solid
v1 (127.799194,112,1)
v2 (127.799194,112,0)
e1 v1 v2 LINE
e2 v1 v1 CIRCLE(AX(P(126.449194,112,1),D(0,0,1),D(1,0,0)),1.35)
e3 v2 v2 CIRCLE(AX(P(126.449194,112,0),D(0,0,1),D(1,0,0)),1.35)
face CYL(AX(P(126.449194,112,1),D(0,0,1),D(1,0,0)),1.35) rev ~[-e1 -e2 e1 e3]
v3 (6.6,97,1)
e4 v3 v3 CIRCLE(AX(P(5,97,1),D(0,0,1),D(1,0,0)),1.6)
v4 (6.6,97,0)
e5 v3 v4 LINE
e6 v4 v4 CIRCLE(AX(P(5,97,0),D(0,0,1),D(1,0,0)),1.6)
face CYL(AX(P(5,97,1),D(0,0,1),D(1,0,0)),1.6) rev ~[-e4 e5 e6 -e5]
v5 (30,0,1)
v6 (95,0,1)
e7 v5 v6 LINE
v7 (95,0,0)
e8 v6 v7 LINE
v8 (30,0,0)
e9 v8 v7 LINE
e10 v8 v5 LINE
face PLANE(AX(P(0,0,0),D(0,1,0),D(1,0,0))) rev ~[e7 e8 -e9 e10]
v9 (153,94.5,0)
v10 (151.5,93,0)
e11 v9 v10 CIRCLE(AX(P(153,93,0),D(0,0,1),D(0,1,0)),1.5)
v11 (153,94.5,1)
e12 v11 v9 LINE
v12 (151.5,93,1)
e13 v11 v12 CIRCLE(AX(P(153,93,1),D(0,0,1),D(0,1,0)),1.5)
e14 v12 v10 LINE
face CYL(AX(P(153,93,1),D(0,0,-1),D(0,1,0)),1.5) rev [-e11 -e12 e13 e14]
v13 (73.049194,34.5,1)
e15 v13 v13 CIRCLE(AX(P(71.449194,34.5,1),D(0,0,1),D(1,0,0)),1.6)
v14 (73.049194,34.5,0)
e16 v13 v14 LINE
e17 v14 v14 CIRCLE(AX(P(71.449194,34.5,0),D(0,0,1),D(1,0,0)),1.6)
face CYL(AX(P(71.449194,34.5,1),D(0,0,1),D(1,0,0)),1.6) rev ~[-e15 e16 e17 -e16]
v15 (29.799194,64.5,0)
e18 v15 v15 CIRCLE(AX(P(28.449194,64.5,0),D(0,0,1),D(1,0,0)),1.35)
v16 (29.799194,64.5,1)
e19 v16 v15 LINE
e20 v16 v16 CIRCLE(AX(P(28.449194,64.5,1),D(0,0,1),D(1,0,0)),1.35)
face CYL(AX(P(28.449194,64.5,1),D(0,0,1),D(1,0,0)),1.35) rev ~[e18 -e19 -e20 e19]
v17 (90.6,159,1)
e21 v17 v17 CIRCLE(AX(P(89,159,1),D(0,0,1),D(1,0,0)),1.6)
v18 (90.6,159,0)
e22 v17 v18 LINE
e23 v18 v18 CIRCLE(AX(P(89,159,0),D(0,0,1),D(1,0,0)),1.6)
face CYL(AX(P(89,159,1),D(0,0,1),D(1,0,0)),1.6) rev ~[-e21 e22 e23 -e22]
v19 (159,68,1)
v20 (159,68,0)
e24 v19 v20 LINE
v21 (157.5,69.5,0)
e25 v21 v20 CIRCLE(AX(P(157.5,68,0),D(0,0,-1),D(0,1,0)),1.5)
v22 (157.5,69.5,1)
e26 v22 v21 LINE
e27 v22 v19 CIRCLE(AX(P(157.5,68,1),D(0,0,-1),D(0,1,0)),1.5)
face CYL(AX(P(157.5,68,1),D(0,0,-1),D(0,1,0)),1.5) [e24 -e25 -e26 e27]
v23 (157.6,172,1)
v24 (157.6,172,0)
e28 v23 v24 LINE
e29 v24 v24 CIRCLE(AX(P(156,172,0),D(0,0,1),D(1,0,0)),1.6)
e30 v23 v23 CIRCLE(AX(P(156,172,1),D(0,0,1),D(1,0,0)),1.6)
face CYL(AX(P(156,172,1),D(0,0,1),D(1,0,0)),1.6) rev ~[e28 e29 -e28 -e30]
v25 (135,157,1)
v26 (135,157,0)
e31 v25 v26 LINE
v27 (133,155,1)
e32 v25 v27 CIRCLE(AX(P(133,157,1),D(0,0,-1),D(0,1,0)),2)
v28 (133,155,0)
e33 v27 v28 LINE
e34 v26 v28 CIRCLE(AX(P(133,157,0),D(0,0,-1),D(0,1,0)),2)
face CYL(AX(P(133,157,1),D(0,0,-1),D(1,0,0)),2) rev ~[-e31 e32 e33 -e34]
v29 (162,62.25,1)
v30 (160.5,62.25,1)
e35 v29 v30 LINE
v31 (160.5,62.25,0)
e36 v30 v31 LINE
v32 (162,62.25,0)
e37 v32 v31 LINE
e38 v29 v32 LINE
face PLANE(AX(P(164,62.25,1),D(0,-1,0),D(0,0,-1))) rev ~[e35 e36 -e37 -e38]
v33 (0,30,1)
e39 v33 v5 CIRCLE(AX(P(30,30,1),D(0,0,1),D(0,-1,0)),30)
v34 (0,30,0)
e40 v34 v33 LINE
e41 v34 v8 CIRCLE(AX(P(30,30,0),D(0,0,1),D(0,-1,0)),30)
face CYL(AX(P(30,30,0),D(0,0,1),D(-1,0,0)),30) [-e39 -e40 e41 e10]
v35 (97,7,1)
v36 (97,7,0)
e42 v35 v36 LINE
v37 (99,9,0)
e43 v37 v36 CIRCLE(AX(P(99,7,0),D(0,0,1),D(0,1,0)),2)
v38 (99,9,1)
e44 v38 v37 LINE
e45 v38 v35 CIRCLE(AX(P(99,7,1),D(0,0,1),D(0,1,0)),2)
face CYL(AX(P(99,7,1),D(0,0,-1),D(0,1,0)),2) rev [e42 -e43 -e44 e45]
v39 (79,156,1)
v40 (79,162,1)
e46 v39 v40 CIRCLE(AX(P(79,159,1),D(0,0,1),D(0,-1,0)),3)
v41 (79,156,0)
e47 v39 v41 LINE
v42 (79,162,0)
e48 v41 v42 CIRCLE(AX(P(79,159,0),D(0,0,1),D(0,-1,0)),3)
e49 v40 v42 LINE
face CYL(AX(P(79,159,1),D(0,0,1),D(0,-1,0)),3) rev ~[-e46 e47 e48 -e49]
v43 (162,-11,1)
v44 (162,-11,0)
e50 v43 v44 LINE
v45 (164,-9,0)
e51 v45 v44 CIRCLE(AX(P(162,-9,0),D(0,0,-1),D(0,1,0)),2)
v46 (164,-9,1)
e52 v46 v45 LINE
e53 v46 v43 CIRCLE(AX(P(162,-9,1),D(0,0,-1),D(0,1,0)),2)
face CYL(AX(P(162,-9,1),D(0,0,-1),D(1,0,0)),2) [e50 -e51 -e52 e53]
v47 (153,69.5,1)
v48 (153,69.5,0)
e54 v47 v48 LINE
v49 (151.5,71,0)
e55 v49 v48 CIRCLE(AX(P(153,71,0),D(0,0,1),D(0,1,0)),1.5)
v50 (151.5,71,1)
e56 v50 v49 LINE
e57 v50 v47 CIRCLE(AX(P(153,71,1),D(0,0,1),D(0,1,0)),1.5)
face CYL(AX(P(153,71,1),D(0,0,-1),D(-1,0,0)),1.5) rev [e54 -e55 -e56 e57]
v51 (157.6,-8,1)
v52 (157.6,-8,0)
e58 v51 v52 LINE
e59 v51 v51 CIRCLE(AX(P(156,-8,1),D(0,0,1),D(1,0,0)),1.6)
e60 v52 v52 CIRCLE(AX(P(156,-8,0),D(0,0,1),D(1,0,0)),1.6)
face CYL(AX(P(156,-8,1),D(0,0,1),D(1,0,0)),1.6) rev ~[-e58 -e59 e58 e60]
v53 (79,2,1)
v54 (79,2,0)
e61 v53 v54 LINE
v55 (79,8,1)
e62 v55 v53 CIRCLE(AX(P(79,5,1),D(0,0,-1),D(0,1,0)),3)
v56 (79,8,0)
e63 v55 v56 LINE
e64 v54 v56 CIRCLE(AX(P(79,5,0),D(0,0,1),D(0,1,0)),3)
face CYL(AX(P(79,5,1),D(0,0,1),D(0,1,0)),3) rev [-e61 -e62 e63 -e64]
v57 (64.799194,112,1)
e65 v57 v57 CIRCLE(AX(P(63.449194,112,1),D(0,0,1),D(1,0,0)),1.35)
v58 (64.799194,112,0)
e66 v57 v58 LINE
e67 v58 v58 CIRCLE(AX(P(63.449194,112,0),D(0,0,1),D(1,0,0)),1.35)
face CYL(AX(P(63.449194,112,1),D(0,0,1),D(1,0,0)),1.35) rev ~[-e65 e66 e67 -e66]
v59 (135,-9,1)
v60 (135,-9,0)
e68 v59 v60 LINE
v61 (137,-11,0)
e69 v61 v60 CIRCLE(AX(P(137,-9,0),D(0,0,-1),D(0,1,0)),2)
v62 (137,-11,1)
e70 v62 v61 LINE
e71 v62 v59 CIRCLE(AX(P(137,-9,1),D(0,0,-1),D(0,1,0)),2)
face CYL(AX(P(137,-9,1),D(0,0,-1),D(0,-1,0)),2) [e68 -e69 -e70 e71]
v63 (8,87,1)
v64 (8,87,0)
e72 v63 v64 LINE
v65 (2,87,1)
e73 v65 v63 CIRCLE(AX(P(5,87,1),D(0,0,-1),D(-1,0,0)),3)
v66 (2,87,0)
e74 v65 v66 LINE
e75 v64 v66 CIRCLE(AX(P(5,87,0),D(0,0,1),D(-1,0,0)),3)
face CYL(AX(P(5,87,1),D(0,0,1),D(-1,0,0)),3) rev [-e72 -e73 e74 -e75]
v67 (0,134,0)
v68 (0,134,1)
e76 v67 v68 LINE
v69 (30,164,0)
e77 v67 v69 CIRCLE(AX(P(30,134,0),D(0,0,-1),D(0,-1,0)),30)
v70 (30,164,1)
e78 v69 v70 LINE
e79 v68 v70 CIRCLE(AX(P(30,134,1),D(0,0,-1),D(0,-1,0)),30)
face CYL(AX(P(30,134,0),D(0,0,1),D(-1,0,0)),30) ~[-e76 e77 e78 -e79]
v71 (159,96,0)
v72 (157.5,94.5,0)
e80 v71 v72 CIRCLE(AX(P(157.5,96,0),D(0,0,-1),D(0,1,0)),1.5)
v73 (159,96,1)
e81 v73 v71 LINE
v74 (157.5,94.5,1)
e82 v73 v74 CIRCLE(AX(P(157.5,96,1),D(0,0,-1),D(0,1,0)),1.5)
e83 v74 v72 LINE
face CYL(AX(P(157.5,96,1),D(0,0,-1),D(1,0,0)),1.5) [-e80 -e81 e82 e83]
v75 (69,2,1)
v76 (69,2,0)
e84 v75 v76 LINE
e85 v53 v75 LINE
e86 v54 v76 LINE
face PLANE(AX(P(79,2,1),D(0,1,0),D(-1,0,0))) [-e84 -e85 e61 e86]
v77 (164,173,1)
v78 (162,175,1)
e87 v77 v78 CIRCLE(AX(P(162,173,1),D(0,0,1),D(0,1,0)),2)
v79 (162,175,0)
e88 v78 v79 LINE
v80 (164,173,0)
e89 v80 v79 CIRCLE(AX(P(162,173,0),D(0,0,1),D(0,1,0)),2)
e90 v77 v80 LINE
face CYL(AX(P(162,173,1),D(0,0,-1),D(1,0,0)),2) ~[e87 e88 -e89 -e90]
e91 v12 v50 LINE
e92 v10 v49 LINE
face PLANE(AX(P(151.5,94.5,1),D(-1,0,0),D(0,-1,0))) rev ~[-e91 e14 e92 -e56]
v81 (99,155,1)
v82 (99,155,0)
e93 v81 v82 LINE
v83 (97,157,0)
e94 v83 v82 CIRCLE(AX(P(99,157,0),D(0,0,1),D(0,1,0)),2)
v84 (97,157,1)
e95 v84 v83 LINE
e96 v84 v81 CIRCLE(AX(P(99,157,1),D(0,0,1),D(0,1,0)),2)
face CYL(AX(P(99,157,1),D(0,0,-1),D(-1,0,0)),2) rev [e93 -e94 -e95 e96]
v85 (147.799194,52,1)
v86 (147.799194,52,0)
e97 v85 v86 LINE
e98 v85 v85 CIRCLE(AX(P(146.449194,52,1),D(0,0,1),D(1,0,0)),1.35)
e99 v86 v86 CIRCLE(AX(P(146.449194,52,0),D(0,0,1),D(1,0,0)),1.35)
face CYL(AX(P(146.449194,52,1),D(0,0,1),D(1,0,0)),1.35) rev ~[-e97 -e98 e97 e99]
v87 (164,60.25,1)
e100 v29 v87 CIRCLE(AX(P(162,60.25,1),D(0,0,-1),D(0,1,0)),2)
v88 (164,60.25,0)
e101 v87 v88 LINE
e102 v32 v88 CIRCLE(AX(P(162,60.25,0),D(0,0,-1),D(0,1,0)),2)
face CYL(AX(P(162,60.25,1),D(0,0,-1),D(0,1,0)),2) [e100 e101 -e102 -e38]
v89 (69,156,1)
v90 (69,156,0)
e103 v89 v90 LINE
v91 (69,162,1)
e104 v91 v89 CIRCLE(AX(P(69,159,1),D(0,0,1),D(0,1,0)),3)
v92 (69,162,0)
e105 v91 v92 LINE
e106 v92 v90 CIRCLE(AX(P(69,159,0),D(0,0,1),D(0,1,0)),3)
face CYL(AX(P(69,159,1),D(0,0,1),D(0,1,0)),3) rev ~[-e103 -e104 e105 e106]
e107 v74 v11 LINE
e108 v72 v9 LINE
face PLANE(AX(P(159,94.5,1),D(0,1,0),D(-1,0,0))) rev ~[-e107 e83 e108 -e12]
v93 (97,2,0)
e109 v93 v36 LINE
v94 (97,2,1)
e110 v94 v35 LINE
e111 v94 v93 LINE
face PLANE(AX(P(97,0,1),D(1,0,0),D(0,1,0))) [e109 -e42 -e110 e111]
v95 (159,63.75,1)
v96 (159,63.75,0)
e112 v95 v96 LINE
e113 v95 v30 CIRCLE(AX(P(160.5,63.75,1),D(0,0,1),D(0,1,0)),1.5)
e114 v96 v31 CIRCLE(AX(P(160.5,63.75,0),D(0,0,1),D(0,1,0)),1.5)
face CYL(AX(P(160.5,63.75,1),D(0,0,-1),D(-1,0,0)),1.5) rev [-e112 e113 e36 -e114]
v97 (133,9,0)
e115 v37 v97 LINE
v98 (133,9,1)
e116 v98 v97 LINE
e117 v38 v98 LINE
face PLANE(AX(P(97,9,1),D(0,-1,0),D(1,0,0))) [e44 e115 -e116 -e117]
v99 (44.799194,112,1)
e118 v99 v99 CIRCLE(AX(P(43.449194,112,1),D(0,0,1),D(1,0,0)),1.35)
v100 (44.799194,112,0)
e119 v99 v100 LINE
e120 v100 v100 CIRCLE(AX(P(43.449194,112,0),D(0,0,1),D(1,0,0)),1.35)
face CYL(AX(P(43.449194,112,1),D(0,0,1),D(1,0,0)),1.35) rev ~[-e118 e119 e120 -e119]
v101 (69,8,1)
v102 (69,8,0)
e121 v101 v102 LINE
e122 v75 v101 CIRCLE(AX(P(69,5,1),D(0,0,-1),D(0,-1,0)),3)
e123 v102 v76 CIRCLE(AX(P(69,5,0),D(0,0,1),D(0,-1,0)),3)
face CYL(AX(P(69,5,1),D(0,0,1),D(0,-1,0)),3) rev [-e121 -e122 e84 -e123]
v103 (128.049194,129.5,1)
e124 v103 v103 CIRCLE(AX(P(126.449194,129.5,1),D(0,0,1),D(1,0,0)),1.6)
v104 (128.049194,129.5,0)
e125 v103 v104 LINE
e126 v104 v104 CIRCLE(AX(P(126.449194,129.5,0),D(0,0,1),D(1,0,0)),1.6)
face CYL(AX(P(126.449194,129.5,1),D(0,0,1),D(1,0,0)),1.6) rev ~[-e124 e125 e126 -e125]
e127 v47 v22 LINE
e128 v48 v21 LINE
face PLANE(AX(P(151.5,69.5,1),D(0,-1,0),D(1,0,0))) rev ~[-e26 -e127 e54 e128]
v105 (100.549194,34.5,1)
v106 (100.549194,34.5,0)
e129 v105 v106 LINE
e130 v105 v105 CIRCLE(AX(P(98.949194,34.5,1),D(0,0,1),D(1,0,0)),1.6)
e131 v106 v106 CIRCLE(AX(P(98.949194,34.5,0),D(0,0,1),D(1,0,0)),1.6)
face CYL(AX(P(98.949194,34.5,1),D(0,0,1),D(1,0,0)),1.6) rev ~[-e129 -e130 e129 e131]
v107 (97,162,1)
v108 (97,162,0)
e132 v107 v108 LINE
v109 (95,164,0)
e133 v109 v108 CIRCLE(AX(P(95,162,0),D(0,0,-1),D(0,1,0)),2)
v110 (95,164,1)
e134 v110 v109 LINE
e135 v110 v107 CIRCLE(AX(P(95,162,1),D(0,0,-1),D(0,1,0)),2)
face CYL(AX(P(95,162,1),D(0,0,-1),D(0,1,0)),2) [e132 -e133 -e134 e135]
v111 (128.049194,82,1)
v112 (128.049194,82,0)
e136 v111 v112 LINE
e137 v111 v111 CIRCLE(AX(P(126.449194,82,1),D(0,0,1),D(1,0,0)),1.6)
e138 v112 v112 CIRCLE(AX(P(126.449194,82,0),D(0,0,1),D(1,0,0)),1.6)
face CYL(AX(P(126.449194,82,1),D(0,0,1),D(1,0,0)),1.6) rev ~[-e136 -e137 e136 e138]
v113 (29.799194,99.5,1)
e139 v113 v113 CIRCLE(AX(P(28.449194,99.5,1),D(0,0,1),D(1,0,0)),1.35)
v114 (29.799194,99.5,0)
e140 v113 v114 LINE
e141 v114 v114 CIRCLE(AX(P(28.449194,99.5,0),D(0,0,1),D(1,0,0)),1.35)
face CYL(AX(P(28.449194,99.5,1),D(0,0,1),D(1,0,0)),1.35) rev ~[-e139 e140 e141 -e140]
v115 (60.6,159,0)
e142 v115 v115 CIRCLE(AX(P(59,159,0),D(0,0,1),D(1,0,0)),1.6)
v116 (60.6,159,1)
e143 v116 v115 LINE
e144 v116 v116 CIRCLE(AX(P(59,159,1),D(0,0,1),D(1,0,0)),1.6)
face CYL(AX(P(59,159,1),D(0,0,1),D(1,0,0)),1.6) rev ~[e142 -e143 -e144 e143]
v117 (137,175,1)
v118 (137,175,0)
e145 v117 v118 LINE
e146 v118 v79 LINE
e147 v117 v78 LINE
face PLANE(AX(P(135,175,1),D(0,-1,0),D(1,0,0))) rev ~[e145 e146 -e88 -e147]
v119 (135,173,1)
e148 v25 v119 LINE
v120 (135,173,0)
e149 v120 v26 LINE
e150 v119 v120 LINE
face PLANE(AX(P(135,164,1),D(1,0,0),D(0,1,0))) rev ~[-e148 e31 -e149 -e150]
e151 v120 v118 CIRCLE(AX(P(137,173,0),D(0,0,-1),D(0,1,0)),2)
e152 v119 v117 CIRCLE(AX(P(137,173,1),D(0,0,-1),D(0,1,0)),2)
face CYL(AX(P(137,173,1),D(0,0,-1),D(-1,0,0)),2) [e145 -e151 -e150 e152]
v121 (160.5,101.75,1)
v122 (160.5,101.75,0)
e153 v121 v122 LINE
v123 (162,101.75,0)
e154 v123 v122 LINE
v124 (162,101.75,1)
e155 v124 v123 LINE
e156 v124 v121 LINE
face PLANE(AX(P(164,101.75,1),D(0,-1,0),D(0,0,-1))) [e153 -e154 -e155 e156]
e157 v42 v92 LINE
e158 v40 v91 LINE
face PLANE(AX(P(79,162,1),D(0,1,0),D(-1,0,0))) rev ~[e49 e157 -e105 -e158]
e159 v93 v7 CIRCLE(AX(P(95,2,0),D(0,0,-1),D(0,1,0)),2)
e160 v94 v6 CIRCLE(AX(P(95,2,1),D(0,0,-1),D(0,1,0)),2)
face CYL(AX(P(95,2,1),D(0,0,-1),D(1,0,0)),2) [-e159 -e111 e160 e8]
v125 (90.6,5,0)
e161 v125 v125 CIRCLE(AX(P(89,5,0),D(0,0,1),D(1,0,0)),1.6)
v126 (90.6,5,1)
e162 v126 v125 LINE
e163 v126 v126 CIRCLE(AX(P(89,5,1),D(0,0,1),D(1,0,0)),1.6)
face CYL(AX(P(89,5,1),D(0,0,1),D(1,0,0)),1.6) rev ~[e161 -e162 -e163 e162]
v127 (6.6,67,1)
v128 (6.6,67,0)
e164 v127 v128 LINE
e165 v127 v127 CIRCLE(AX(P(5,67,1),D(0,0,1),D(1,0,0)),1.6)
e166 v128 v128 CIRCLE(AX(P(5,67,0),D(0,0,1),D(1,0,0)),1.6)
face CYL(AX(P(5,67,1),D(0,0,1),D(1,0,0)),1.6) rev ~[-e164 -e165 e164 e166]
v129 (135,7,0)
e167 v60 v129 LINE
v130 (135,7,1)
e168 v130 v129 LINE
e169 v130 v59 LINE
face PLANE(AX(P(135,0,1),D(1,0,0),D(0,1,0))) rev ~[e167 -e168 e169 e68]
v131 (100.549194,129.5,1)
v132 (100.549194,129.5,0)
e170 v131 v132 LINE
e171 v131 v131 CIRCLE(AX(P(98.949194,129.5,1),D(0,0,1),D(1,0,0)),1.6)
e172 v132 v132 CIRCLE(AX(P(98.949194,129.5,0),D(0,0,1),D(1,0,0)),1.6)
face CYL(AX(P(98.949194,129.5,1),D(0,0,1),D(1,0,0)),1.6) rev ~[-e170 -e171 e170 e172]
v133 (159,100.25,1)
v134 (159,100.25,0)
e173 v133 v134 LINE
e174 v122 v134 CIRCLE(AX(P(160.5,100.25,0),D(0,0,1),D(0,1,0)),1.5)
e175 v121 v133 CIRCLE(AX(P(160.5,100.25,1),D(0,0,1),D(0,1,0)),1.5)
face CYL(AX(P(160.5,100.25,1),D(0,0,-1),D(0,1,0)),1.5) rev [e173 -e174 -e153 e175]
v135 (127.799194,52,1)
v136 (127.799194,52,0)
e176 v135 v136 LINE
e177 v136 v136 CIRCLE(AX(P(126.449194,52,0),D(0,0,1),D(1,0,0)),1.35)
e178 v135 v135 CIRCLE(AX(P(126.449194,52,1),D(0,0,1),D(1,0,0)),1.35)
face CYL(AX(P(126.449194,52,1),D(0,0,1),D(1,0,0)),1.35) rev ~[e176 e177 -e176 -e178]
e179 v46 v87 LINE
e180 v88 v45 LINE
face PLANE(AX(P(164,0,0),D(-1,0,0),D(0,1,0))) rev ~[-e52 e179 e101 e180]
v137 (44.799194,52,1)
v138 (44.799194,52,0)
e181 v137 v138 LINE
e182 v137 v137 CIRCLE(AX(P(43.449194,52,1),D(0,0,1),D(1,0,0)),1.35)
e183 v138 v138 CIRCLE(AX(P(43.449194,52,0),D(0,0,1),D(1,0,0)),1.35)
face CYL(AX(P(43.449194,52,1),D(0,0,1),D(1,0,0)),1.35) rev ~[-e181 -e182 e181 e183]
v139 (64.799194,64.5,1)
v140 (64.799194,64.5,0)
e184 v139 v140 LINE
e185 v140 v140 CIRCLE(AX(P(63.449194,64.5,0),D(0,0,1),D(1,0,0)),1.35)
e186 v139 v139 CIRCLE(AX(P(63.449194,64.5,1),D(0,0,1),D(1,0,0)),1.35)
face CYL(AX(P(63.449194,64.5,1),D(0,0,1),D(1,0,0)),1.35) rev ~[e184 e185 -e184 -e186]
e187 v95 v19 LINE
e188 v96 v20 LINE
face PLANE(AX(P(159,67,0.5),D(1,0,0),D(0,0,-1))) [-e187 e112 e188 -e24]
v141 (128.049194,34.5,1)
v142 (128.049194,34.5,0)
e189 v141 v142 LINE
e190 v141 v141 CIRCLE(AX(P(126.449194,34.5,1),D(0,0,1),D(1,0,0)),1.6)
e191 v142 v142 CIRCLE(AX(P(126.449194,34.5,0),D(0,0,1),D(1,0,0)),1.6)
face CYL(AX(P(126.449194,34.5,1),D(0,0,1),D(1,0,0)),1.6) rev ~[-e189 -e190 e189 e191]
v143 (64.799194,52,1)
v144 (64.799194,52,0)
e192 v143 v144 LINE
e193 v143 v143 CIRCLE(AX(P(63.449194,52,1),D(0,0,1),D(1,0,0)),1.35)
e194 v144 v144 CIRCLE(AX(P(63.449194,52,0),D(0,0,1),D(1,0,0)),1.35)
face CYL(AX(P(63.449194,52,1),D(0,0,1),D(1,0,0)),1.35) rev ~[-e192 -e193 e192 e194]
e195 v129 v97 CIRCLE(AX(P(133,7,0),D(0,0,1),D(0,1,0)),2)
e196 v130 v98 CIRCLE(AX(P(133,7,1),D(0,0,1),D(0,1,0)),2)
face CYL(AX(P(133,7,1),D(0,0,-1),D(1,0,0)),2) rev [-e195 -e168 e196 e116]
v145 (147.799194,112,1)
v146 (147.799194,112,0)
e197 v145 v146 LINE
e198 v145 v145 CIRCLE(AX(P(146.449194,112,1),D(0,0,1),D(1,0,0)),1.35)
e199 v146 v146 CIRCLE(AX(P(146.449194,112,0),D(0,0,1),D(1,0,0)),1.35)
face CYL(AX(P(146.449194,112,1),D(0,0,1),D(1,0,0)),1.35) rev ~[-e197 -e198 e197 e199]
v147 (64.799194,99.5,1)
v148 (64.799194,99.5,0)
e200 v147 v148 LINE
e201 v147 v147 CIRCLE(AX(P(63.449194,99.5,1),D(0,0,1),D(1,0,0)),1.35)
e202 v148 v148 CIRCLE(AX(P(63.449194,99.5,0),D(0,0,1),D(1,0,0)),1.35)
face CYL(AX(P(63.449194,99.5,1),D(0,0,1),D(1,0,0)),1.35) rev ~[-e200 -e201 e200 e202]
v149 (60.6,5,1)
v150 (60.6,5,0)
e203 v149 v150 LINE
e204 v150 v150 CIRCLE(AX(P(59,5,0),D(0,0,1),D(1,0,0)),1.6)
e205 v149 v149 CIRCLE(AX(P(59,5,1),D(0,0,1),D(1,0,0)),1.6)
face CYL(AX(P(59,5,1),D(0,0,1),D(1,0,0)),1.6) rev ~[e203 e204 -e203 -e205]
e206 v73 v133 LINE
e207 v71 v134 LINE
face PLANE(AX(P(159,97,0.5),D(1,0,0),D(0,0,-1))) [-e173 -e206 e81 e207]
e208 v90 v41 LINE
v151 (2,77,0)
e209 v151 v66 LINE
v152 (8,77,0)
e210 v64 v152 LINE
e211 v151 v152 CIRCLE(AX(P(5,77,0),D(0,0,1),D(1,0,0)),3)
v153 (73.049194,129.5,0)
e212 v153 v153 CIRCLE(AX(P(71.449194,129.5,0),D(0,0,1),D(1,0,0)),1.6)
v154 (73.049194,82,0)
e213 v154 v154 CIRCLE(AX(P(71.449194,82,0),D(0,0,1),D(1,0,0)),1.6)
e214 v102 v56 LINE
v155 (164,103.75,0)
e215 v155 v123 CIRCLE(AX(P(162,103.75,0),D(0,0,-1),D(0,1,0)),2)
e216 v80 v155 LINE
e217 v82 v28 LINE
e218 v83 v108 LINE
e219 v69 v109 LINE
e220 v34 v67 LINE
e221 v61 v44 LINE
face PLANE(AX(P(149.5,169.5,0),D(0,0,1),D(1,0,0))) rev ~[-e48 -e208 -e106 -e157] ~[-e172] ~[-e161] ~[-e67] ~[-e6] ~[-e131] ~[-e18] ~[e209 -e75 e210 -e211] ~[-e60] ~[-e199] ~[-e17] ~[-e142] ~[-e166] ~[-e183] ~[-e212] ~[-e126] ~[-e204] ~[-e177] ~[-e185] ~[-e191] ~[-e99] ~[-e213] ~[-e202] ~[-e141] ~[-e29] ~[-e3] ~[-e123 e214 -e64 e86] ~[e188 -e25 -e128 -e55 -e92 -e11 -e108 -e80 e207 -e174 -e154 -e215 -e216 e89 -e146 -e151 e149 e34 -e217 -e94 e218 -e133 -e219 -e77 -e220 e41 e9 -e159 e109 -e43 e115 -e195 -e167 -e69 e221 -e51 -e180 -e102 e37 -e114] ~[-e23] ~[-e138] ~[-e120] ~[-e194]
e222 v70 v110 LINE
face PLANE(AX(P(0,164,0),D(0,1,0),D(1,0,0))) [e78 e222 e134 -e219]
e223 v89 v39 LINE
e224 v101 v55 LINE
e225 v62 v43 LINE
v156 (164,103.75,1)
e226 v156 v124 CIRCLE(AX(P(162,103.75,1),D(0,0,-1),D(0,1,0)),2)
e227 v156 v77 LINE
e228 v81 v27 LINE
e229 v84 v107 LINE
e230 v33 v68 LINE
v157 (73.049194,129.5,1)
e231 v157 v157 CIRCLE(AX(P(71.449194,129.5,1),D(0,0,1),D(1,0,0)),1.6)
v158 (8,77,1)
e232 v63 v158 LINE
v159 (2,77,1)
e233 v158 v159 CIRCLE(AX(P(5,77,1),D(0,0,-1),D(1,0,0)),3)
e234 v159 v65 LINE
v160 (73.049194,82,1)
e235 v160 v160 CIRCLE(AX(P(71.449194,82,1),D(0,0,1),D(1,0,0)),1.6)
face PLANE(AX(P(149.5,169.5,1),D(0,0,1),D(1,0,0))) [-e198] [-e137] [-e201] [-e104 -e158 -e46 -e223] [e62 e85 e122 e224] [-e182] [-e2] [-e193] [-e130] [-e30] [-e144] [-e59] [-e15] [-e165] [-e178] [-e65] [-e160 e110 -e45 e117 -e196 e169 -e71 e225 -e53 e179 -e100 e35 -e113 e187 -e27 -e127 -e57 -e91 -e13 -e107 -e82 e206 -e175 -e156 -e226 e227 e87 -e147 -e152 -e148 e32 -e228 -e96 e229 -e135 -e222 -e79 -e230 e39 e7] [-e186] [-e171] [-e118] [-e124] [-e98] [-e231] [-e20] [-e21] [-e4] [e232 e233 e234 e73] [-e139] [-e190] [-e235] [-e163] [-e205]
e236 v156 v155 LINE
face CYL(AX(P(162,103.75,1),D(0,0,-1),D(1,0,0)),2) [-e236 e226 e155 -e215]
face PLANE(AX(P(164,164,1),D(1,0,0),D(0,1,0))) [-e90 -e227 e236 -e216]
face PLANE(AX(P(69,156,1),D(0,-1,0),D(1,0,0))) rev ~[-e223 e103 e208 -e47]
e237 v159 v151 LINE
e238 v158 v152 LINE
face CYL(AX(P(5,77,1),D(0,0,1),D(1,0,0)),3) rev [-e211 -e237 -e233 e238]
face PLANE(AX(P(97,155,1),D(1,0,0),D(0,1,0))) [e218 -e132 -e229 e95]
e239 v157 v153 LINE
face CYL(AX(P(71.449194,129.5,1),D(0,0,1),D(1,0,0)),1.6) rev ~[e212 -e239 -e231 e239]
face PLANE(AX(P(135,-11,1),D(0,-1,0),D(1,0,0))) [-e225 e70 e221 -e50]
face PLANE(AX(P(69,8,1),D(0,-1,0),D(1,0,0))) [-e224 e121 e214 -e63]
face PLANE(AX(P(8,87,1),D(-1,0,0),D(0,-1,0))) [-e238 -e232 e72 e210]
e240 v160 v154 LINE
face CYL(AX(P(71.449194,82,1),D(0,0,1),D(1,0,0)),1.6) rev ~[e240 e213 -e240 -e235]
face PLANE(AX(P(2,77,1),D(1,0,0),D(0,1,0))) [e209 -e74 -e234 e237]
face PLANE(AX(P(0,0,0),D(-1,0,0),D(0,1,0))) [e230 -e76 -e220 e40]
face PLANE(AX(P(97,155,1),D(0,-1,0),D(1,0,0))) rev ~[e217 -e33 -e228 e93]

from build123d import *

# Parameters (mm, degrees)
SKETCH_1_W          = 164
SKETCH_1_H          = 164
EXTRUDE_1_DEPTH     = 1
FILLET_1_R          = 30
SKETCH_2_R          = 1.6
CUT_EXTRUDE_1_DEPTH = 2
SKETCH_3_R          = 1.6
CUT_EXTRUDE_2_DEPTH = 2
SKETCH_4_W          = 38
SKETCH_4_H          = 9
CUT_EXTRUDE_3_DEPTH = 2
SKETCH_5_W          = 1
SKETCH_5_H          = 9.5
CUT_EXTRUDE_4_DEPTH = 5
FILLET_3_R          = 1.5
SKETCH_6_W          = 29
SKETCH_6_H          = 11
EXTRUDE_2_DEPTH     = 1
FILLET_2_R          = 2
SKETCH_8_R          = 1.6
CUT_EXTRUDE_5_DEPTH = 2
SKETCH_10_R         = 1.599999996
SKETCH_10_R_2       = 1.600000004
SKETCH_10_R_3       = 1.35
CUT_EXTRUDE_6_DEPTH = 2
CUT_EXTRUDE_7_DEPTH = 2
FILLET_4_R          = 1.5


with BuildPart() as part:
    # 草图1 → 凸台-拉伸1 (new body)
    with BuildSketch(Plane.XY):
        with Locations((82, 82)):
            Rectangle(SKETCH_1_W, SKETCH_1_H)
    extrude(amount=EXTRUDE_1_DEPTH)

    # 圆角1
    fillet_1_edges = [part.edges().sort_by_distance(p)[0] for p in [
        (0, 164, 0.5),
        (0, 0, 0.5),
    ]]
    fillet(fillet_1_edges, radius=FILLET_1_R)

    # 草图2 → 切除-拉伸1 (cut, through all)
    with BuildSketch(Plane.XY.offset(1)):
        with Locations((5, 97)):
            Circle(SKETCH_2_R)
        with Locations((5, 67)):
            Circle(SKETCH_2_R)
        with BuildLine():
            Line((2, 77), (2, 87))
            ThreePointArc((2, 87), (5, 90), (8, 87))
            Line((8, 87), (8, 77))
            ThreePointArc((8, 77), (5, 74), (2, 77))
        make_face()
    extrude(amount=-CUT_EXTRUDE_1_DEPTH, mode=Mode.SUBTRACT)

    # 草图3 → 切除-拉伸2 (cut, through all)
    with BuildSketch(Plane.XY.offset(1)):
        with Locations((59, 5)):
            Circle(SKETCH_3_R)
        with Locations((89, 5)):
            Circle(SKETCH_3_R)
        with Locations((89, 159)):
            Circle(SKETCH_3_R)
        with Locations((59, 159)):
            Circle(SKETCH_3_R)
        with BuildLine():
            Line((79, 2), (69, 2))
            ThreePointArc((69, 2), (66, 5), (69, 8))
            Line((69, 8), (79, 8))
            ThreePointArc((79, 8), (82, 5), (79, 2))
        make_face()
        with BuildLine():
            Line((79, 162), (69, 162))
            ThreePointArc((69, 162), (66, 159), (69, 156))
            Line((69, 156), (79, 156))
            ThreePointArc((79, 156), (82, 159), (79, 162))
        make_face()
    extrude(amount=-CUT_EXTRUDE_2_DEPTH, mode=Mode.SUBTRACT)

    # 草图4 → 切除-拉伸3 (cut, through all)
    with BuildSketch(Plane.XY.offset(1)):
        with Locations((116, 159.5)):
            Rectangle(SKETCH_4_W, SKETCH_4_H)
        with Locations((116, 4.5)):
            Rectangle(SKETCH_4_W, SKETCH_4_H)
    extrude(amount=-CUT_EXTRUDE_3_DEPTH, mode=Mode.SUBTRACT)

    # 草图5 → 切除-拉伸4 (cut)
    with BuildSketch(Plane(origin=(164, 0, 0), x_dir=(0, 0, -1), z_dir=(1, 0, 0))):
        with Locations((-0.5, 67)):
            Rectangle(SKETCH_5_W, SKETCH_5_H)
        with Locations((-0.5, 97)):
            Rectangle(SKETCH_5_W, SKETCH_5_H)
    extrude(amount=-CUT_EXTRUDE_4_DEPTH, mode=Mode.SUBTRACT)

    # 圆角3
    fillet_3_edges = [part.edges().sort_by_distance(p)[0] for p in [
        (159, 62.25, 0.5),
        (159, 71.75, 0.5),
        (159, 101.75, 0.5),
        (159, 92.25, 0.5),
    ]]
    fillet(fillet_3_edges, radius=FILLET_3_R)

    # 草图6 → 凸台-拉伸2 (add)
    with BuildSketch(Plane.XY.offset(1)):
        with Locations((149.5, 169.5)):
            Rectangle(SKETCH_6_W, SKETCH_6_H)
        with Locations((149.5, -5.5)):
            Rectangle(SKETCH_6_W, SKETCH_6_H)
    extrude(amount=-EXTRUDE_2_DEPTH)

    # 圆角2
    fillet_2_edges = [part.edges().sort_by_distance(p)[0] for p in [
        (135, 155, 0.5),
        (97, 155, 0.5),
        (97, 164, 0.5),
        (97, 0, 0.5),
        (97, 9, 0.5),
        (135, 9, 0.5),
        (164, 71.75, 0.5),
        (164, 62.25, 0.5),
        (164, 92.25, 0.5),
        (164, 101.75, 0.5),
        (164, 175, 0.5),
        (135, 175, 0.5),
        (164, -11, 0.5),
        (135, -11, 0.5),
    ]]
    fillet(fillet_2_edges, radius=FILLET_2_R)

    # 草图8 → 切除-拉伸5 (cut, through all)
    with BuildSketch(Plane.XY.offset(1)):
        with Locations((156, 172)):
            Circle(SKETCH_8_R)
        with Locations((156, -8)):
            Circle(SKETCH_8_R)
    extrude(amount=-CUT_EXTRUDE_5_DEPTH, mode=Mode.SUBTRACT)

    # 草图10 → 切除-拉伸6 (cut, through all)
    with BuildSketch(Plane.XY.offset(1)):
        with Locations((71.449193661, 129.5)):
            Circle(SKETCH_10_R)
        with Locations((98.949193661, 129.5)):
            Circle(SKETCH_10_R)
        with Locations((126.449193661, 129.5)):
            Circle(SKETCH_10_R)
        with Locations((71.449193661, 82)):
            Circle(SKETCH_10_R)
        with Locations((126.449193661, 34.5)):
            Circle(SKETCH_10_R)
        with Locations((98.949193661, 34.5)):
            Circle(SKETCH_10_R)
        with Locations((71.449193661, 34.5)):
            Circle(SKETCH_10_R)
        with Locations((126.449193661, 82)):
            Circle(SKETCH_10_R_2)
        with Locations((28.449193661, 99.5)):
            Circle(SKETCH_10_R_3)
        with Locations((63.449193661, 99.5)):
            Circle(SKETCH_10_R_3)
        with Locations((63.449193661, 64.5)):
            Circle(SKETCH_10_R_3)
        with Locations((28.449193661, 64.5)):
            Circle(SKETCH_10_R_3)
        with Locations((146.449193661, 112)):
            Circle(SKETCH_10_R_3)
        with Locations((43.449193661, 112)):
            Circle(SKETCH_10_R_3)
        with Locations((63.449193661, 112)):
            Circle(SKETCH_10_R_3)
        with Locations((63.449193661, 52)):
            Circle(SKETCH_10_R_3)
        with Locations((43.449193661, 52)):
            Circle(SKETCH_10_R_3)
        with Locations((126.449193661, 112)):
            Circle(SKETCH_10_R_3)
        with Locations((146.449193661, 52)):
            Circle(SKETCH_10_R_3)
        with Locations((126.449193661, 52)):
            Circle(SKETCH_10_R_3)
    extrude(amount=-CUT_EXTRUDE_6_DEPTH, mode=Mode.SUBTRACT)

    # 草图12 → 切除-拉伸7 (cut, through all)
    with BuildSketch(Plane.XY.offset(1)):
        with BuildLine():
            Line((159, 94.5), (151.5, 94.5))
            Line((151.5, 94.5), (151.5, 69.5))
            Line((151.5, 69.5), (159, 69.5))
            Line((159, 69.5), (159, 70.25))
            ThreePointArc((159, 70.25), (159.439339828, 71.310660172), (160.5, 71.75))
            Line((160.5, 71.75), (162, 71.75))
            ThreePointArc((162, 71.75), (163.414213562, 72.335786438), (164, 73.75))
            Line((164, 73.75), (164, 90.25))
            ThreePointArc((164, 90.25), (163.414213562, 91.664213562), (162, 92.25))
            Line((162, 92.25), (160.5, 92.25))
            ThreePointArc((160.5, 92.25), (159.439339828, 92.689339828), (159, 93.75))
            Line((159, 93.75), (159, 94.5))
        make_face()
    extrude(amount=-CUT_EXTRUDE_7_DEPTH, mode=Mode.SUBTRACT)

    # 圆角4
    fillet_4_edges = [part.edges().sort_by_distance(p)[0] for p in [
        (159, 94.5, 0.5),
        (159, 69.5, 0.5),
        (151.5, 69.5, 0.5),
        (151.5, 94.5, 0.5),
    ]]
    fillet(fillet_4_edges, radius=FILLET_4_R)


solid = part.part
